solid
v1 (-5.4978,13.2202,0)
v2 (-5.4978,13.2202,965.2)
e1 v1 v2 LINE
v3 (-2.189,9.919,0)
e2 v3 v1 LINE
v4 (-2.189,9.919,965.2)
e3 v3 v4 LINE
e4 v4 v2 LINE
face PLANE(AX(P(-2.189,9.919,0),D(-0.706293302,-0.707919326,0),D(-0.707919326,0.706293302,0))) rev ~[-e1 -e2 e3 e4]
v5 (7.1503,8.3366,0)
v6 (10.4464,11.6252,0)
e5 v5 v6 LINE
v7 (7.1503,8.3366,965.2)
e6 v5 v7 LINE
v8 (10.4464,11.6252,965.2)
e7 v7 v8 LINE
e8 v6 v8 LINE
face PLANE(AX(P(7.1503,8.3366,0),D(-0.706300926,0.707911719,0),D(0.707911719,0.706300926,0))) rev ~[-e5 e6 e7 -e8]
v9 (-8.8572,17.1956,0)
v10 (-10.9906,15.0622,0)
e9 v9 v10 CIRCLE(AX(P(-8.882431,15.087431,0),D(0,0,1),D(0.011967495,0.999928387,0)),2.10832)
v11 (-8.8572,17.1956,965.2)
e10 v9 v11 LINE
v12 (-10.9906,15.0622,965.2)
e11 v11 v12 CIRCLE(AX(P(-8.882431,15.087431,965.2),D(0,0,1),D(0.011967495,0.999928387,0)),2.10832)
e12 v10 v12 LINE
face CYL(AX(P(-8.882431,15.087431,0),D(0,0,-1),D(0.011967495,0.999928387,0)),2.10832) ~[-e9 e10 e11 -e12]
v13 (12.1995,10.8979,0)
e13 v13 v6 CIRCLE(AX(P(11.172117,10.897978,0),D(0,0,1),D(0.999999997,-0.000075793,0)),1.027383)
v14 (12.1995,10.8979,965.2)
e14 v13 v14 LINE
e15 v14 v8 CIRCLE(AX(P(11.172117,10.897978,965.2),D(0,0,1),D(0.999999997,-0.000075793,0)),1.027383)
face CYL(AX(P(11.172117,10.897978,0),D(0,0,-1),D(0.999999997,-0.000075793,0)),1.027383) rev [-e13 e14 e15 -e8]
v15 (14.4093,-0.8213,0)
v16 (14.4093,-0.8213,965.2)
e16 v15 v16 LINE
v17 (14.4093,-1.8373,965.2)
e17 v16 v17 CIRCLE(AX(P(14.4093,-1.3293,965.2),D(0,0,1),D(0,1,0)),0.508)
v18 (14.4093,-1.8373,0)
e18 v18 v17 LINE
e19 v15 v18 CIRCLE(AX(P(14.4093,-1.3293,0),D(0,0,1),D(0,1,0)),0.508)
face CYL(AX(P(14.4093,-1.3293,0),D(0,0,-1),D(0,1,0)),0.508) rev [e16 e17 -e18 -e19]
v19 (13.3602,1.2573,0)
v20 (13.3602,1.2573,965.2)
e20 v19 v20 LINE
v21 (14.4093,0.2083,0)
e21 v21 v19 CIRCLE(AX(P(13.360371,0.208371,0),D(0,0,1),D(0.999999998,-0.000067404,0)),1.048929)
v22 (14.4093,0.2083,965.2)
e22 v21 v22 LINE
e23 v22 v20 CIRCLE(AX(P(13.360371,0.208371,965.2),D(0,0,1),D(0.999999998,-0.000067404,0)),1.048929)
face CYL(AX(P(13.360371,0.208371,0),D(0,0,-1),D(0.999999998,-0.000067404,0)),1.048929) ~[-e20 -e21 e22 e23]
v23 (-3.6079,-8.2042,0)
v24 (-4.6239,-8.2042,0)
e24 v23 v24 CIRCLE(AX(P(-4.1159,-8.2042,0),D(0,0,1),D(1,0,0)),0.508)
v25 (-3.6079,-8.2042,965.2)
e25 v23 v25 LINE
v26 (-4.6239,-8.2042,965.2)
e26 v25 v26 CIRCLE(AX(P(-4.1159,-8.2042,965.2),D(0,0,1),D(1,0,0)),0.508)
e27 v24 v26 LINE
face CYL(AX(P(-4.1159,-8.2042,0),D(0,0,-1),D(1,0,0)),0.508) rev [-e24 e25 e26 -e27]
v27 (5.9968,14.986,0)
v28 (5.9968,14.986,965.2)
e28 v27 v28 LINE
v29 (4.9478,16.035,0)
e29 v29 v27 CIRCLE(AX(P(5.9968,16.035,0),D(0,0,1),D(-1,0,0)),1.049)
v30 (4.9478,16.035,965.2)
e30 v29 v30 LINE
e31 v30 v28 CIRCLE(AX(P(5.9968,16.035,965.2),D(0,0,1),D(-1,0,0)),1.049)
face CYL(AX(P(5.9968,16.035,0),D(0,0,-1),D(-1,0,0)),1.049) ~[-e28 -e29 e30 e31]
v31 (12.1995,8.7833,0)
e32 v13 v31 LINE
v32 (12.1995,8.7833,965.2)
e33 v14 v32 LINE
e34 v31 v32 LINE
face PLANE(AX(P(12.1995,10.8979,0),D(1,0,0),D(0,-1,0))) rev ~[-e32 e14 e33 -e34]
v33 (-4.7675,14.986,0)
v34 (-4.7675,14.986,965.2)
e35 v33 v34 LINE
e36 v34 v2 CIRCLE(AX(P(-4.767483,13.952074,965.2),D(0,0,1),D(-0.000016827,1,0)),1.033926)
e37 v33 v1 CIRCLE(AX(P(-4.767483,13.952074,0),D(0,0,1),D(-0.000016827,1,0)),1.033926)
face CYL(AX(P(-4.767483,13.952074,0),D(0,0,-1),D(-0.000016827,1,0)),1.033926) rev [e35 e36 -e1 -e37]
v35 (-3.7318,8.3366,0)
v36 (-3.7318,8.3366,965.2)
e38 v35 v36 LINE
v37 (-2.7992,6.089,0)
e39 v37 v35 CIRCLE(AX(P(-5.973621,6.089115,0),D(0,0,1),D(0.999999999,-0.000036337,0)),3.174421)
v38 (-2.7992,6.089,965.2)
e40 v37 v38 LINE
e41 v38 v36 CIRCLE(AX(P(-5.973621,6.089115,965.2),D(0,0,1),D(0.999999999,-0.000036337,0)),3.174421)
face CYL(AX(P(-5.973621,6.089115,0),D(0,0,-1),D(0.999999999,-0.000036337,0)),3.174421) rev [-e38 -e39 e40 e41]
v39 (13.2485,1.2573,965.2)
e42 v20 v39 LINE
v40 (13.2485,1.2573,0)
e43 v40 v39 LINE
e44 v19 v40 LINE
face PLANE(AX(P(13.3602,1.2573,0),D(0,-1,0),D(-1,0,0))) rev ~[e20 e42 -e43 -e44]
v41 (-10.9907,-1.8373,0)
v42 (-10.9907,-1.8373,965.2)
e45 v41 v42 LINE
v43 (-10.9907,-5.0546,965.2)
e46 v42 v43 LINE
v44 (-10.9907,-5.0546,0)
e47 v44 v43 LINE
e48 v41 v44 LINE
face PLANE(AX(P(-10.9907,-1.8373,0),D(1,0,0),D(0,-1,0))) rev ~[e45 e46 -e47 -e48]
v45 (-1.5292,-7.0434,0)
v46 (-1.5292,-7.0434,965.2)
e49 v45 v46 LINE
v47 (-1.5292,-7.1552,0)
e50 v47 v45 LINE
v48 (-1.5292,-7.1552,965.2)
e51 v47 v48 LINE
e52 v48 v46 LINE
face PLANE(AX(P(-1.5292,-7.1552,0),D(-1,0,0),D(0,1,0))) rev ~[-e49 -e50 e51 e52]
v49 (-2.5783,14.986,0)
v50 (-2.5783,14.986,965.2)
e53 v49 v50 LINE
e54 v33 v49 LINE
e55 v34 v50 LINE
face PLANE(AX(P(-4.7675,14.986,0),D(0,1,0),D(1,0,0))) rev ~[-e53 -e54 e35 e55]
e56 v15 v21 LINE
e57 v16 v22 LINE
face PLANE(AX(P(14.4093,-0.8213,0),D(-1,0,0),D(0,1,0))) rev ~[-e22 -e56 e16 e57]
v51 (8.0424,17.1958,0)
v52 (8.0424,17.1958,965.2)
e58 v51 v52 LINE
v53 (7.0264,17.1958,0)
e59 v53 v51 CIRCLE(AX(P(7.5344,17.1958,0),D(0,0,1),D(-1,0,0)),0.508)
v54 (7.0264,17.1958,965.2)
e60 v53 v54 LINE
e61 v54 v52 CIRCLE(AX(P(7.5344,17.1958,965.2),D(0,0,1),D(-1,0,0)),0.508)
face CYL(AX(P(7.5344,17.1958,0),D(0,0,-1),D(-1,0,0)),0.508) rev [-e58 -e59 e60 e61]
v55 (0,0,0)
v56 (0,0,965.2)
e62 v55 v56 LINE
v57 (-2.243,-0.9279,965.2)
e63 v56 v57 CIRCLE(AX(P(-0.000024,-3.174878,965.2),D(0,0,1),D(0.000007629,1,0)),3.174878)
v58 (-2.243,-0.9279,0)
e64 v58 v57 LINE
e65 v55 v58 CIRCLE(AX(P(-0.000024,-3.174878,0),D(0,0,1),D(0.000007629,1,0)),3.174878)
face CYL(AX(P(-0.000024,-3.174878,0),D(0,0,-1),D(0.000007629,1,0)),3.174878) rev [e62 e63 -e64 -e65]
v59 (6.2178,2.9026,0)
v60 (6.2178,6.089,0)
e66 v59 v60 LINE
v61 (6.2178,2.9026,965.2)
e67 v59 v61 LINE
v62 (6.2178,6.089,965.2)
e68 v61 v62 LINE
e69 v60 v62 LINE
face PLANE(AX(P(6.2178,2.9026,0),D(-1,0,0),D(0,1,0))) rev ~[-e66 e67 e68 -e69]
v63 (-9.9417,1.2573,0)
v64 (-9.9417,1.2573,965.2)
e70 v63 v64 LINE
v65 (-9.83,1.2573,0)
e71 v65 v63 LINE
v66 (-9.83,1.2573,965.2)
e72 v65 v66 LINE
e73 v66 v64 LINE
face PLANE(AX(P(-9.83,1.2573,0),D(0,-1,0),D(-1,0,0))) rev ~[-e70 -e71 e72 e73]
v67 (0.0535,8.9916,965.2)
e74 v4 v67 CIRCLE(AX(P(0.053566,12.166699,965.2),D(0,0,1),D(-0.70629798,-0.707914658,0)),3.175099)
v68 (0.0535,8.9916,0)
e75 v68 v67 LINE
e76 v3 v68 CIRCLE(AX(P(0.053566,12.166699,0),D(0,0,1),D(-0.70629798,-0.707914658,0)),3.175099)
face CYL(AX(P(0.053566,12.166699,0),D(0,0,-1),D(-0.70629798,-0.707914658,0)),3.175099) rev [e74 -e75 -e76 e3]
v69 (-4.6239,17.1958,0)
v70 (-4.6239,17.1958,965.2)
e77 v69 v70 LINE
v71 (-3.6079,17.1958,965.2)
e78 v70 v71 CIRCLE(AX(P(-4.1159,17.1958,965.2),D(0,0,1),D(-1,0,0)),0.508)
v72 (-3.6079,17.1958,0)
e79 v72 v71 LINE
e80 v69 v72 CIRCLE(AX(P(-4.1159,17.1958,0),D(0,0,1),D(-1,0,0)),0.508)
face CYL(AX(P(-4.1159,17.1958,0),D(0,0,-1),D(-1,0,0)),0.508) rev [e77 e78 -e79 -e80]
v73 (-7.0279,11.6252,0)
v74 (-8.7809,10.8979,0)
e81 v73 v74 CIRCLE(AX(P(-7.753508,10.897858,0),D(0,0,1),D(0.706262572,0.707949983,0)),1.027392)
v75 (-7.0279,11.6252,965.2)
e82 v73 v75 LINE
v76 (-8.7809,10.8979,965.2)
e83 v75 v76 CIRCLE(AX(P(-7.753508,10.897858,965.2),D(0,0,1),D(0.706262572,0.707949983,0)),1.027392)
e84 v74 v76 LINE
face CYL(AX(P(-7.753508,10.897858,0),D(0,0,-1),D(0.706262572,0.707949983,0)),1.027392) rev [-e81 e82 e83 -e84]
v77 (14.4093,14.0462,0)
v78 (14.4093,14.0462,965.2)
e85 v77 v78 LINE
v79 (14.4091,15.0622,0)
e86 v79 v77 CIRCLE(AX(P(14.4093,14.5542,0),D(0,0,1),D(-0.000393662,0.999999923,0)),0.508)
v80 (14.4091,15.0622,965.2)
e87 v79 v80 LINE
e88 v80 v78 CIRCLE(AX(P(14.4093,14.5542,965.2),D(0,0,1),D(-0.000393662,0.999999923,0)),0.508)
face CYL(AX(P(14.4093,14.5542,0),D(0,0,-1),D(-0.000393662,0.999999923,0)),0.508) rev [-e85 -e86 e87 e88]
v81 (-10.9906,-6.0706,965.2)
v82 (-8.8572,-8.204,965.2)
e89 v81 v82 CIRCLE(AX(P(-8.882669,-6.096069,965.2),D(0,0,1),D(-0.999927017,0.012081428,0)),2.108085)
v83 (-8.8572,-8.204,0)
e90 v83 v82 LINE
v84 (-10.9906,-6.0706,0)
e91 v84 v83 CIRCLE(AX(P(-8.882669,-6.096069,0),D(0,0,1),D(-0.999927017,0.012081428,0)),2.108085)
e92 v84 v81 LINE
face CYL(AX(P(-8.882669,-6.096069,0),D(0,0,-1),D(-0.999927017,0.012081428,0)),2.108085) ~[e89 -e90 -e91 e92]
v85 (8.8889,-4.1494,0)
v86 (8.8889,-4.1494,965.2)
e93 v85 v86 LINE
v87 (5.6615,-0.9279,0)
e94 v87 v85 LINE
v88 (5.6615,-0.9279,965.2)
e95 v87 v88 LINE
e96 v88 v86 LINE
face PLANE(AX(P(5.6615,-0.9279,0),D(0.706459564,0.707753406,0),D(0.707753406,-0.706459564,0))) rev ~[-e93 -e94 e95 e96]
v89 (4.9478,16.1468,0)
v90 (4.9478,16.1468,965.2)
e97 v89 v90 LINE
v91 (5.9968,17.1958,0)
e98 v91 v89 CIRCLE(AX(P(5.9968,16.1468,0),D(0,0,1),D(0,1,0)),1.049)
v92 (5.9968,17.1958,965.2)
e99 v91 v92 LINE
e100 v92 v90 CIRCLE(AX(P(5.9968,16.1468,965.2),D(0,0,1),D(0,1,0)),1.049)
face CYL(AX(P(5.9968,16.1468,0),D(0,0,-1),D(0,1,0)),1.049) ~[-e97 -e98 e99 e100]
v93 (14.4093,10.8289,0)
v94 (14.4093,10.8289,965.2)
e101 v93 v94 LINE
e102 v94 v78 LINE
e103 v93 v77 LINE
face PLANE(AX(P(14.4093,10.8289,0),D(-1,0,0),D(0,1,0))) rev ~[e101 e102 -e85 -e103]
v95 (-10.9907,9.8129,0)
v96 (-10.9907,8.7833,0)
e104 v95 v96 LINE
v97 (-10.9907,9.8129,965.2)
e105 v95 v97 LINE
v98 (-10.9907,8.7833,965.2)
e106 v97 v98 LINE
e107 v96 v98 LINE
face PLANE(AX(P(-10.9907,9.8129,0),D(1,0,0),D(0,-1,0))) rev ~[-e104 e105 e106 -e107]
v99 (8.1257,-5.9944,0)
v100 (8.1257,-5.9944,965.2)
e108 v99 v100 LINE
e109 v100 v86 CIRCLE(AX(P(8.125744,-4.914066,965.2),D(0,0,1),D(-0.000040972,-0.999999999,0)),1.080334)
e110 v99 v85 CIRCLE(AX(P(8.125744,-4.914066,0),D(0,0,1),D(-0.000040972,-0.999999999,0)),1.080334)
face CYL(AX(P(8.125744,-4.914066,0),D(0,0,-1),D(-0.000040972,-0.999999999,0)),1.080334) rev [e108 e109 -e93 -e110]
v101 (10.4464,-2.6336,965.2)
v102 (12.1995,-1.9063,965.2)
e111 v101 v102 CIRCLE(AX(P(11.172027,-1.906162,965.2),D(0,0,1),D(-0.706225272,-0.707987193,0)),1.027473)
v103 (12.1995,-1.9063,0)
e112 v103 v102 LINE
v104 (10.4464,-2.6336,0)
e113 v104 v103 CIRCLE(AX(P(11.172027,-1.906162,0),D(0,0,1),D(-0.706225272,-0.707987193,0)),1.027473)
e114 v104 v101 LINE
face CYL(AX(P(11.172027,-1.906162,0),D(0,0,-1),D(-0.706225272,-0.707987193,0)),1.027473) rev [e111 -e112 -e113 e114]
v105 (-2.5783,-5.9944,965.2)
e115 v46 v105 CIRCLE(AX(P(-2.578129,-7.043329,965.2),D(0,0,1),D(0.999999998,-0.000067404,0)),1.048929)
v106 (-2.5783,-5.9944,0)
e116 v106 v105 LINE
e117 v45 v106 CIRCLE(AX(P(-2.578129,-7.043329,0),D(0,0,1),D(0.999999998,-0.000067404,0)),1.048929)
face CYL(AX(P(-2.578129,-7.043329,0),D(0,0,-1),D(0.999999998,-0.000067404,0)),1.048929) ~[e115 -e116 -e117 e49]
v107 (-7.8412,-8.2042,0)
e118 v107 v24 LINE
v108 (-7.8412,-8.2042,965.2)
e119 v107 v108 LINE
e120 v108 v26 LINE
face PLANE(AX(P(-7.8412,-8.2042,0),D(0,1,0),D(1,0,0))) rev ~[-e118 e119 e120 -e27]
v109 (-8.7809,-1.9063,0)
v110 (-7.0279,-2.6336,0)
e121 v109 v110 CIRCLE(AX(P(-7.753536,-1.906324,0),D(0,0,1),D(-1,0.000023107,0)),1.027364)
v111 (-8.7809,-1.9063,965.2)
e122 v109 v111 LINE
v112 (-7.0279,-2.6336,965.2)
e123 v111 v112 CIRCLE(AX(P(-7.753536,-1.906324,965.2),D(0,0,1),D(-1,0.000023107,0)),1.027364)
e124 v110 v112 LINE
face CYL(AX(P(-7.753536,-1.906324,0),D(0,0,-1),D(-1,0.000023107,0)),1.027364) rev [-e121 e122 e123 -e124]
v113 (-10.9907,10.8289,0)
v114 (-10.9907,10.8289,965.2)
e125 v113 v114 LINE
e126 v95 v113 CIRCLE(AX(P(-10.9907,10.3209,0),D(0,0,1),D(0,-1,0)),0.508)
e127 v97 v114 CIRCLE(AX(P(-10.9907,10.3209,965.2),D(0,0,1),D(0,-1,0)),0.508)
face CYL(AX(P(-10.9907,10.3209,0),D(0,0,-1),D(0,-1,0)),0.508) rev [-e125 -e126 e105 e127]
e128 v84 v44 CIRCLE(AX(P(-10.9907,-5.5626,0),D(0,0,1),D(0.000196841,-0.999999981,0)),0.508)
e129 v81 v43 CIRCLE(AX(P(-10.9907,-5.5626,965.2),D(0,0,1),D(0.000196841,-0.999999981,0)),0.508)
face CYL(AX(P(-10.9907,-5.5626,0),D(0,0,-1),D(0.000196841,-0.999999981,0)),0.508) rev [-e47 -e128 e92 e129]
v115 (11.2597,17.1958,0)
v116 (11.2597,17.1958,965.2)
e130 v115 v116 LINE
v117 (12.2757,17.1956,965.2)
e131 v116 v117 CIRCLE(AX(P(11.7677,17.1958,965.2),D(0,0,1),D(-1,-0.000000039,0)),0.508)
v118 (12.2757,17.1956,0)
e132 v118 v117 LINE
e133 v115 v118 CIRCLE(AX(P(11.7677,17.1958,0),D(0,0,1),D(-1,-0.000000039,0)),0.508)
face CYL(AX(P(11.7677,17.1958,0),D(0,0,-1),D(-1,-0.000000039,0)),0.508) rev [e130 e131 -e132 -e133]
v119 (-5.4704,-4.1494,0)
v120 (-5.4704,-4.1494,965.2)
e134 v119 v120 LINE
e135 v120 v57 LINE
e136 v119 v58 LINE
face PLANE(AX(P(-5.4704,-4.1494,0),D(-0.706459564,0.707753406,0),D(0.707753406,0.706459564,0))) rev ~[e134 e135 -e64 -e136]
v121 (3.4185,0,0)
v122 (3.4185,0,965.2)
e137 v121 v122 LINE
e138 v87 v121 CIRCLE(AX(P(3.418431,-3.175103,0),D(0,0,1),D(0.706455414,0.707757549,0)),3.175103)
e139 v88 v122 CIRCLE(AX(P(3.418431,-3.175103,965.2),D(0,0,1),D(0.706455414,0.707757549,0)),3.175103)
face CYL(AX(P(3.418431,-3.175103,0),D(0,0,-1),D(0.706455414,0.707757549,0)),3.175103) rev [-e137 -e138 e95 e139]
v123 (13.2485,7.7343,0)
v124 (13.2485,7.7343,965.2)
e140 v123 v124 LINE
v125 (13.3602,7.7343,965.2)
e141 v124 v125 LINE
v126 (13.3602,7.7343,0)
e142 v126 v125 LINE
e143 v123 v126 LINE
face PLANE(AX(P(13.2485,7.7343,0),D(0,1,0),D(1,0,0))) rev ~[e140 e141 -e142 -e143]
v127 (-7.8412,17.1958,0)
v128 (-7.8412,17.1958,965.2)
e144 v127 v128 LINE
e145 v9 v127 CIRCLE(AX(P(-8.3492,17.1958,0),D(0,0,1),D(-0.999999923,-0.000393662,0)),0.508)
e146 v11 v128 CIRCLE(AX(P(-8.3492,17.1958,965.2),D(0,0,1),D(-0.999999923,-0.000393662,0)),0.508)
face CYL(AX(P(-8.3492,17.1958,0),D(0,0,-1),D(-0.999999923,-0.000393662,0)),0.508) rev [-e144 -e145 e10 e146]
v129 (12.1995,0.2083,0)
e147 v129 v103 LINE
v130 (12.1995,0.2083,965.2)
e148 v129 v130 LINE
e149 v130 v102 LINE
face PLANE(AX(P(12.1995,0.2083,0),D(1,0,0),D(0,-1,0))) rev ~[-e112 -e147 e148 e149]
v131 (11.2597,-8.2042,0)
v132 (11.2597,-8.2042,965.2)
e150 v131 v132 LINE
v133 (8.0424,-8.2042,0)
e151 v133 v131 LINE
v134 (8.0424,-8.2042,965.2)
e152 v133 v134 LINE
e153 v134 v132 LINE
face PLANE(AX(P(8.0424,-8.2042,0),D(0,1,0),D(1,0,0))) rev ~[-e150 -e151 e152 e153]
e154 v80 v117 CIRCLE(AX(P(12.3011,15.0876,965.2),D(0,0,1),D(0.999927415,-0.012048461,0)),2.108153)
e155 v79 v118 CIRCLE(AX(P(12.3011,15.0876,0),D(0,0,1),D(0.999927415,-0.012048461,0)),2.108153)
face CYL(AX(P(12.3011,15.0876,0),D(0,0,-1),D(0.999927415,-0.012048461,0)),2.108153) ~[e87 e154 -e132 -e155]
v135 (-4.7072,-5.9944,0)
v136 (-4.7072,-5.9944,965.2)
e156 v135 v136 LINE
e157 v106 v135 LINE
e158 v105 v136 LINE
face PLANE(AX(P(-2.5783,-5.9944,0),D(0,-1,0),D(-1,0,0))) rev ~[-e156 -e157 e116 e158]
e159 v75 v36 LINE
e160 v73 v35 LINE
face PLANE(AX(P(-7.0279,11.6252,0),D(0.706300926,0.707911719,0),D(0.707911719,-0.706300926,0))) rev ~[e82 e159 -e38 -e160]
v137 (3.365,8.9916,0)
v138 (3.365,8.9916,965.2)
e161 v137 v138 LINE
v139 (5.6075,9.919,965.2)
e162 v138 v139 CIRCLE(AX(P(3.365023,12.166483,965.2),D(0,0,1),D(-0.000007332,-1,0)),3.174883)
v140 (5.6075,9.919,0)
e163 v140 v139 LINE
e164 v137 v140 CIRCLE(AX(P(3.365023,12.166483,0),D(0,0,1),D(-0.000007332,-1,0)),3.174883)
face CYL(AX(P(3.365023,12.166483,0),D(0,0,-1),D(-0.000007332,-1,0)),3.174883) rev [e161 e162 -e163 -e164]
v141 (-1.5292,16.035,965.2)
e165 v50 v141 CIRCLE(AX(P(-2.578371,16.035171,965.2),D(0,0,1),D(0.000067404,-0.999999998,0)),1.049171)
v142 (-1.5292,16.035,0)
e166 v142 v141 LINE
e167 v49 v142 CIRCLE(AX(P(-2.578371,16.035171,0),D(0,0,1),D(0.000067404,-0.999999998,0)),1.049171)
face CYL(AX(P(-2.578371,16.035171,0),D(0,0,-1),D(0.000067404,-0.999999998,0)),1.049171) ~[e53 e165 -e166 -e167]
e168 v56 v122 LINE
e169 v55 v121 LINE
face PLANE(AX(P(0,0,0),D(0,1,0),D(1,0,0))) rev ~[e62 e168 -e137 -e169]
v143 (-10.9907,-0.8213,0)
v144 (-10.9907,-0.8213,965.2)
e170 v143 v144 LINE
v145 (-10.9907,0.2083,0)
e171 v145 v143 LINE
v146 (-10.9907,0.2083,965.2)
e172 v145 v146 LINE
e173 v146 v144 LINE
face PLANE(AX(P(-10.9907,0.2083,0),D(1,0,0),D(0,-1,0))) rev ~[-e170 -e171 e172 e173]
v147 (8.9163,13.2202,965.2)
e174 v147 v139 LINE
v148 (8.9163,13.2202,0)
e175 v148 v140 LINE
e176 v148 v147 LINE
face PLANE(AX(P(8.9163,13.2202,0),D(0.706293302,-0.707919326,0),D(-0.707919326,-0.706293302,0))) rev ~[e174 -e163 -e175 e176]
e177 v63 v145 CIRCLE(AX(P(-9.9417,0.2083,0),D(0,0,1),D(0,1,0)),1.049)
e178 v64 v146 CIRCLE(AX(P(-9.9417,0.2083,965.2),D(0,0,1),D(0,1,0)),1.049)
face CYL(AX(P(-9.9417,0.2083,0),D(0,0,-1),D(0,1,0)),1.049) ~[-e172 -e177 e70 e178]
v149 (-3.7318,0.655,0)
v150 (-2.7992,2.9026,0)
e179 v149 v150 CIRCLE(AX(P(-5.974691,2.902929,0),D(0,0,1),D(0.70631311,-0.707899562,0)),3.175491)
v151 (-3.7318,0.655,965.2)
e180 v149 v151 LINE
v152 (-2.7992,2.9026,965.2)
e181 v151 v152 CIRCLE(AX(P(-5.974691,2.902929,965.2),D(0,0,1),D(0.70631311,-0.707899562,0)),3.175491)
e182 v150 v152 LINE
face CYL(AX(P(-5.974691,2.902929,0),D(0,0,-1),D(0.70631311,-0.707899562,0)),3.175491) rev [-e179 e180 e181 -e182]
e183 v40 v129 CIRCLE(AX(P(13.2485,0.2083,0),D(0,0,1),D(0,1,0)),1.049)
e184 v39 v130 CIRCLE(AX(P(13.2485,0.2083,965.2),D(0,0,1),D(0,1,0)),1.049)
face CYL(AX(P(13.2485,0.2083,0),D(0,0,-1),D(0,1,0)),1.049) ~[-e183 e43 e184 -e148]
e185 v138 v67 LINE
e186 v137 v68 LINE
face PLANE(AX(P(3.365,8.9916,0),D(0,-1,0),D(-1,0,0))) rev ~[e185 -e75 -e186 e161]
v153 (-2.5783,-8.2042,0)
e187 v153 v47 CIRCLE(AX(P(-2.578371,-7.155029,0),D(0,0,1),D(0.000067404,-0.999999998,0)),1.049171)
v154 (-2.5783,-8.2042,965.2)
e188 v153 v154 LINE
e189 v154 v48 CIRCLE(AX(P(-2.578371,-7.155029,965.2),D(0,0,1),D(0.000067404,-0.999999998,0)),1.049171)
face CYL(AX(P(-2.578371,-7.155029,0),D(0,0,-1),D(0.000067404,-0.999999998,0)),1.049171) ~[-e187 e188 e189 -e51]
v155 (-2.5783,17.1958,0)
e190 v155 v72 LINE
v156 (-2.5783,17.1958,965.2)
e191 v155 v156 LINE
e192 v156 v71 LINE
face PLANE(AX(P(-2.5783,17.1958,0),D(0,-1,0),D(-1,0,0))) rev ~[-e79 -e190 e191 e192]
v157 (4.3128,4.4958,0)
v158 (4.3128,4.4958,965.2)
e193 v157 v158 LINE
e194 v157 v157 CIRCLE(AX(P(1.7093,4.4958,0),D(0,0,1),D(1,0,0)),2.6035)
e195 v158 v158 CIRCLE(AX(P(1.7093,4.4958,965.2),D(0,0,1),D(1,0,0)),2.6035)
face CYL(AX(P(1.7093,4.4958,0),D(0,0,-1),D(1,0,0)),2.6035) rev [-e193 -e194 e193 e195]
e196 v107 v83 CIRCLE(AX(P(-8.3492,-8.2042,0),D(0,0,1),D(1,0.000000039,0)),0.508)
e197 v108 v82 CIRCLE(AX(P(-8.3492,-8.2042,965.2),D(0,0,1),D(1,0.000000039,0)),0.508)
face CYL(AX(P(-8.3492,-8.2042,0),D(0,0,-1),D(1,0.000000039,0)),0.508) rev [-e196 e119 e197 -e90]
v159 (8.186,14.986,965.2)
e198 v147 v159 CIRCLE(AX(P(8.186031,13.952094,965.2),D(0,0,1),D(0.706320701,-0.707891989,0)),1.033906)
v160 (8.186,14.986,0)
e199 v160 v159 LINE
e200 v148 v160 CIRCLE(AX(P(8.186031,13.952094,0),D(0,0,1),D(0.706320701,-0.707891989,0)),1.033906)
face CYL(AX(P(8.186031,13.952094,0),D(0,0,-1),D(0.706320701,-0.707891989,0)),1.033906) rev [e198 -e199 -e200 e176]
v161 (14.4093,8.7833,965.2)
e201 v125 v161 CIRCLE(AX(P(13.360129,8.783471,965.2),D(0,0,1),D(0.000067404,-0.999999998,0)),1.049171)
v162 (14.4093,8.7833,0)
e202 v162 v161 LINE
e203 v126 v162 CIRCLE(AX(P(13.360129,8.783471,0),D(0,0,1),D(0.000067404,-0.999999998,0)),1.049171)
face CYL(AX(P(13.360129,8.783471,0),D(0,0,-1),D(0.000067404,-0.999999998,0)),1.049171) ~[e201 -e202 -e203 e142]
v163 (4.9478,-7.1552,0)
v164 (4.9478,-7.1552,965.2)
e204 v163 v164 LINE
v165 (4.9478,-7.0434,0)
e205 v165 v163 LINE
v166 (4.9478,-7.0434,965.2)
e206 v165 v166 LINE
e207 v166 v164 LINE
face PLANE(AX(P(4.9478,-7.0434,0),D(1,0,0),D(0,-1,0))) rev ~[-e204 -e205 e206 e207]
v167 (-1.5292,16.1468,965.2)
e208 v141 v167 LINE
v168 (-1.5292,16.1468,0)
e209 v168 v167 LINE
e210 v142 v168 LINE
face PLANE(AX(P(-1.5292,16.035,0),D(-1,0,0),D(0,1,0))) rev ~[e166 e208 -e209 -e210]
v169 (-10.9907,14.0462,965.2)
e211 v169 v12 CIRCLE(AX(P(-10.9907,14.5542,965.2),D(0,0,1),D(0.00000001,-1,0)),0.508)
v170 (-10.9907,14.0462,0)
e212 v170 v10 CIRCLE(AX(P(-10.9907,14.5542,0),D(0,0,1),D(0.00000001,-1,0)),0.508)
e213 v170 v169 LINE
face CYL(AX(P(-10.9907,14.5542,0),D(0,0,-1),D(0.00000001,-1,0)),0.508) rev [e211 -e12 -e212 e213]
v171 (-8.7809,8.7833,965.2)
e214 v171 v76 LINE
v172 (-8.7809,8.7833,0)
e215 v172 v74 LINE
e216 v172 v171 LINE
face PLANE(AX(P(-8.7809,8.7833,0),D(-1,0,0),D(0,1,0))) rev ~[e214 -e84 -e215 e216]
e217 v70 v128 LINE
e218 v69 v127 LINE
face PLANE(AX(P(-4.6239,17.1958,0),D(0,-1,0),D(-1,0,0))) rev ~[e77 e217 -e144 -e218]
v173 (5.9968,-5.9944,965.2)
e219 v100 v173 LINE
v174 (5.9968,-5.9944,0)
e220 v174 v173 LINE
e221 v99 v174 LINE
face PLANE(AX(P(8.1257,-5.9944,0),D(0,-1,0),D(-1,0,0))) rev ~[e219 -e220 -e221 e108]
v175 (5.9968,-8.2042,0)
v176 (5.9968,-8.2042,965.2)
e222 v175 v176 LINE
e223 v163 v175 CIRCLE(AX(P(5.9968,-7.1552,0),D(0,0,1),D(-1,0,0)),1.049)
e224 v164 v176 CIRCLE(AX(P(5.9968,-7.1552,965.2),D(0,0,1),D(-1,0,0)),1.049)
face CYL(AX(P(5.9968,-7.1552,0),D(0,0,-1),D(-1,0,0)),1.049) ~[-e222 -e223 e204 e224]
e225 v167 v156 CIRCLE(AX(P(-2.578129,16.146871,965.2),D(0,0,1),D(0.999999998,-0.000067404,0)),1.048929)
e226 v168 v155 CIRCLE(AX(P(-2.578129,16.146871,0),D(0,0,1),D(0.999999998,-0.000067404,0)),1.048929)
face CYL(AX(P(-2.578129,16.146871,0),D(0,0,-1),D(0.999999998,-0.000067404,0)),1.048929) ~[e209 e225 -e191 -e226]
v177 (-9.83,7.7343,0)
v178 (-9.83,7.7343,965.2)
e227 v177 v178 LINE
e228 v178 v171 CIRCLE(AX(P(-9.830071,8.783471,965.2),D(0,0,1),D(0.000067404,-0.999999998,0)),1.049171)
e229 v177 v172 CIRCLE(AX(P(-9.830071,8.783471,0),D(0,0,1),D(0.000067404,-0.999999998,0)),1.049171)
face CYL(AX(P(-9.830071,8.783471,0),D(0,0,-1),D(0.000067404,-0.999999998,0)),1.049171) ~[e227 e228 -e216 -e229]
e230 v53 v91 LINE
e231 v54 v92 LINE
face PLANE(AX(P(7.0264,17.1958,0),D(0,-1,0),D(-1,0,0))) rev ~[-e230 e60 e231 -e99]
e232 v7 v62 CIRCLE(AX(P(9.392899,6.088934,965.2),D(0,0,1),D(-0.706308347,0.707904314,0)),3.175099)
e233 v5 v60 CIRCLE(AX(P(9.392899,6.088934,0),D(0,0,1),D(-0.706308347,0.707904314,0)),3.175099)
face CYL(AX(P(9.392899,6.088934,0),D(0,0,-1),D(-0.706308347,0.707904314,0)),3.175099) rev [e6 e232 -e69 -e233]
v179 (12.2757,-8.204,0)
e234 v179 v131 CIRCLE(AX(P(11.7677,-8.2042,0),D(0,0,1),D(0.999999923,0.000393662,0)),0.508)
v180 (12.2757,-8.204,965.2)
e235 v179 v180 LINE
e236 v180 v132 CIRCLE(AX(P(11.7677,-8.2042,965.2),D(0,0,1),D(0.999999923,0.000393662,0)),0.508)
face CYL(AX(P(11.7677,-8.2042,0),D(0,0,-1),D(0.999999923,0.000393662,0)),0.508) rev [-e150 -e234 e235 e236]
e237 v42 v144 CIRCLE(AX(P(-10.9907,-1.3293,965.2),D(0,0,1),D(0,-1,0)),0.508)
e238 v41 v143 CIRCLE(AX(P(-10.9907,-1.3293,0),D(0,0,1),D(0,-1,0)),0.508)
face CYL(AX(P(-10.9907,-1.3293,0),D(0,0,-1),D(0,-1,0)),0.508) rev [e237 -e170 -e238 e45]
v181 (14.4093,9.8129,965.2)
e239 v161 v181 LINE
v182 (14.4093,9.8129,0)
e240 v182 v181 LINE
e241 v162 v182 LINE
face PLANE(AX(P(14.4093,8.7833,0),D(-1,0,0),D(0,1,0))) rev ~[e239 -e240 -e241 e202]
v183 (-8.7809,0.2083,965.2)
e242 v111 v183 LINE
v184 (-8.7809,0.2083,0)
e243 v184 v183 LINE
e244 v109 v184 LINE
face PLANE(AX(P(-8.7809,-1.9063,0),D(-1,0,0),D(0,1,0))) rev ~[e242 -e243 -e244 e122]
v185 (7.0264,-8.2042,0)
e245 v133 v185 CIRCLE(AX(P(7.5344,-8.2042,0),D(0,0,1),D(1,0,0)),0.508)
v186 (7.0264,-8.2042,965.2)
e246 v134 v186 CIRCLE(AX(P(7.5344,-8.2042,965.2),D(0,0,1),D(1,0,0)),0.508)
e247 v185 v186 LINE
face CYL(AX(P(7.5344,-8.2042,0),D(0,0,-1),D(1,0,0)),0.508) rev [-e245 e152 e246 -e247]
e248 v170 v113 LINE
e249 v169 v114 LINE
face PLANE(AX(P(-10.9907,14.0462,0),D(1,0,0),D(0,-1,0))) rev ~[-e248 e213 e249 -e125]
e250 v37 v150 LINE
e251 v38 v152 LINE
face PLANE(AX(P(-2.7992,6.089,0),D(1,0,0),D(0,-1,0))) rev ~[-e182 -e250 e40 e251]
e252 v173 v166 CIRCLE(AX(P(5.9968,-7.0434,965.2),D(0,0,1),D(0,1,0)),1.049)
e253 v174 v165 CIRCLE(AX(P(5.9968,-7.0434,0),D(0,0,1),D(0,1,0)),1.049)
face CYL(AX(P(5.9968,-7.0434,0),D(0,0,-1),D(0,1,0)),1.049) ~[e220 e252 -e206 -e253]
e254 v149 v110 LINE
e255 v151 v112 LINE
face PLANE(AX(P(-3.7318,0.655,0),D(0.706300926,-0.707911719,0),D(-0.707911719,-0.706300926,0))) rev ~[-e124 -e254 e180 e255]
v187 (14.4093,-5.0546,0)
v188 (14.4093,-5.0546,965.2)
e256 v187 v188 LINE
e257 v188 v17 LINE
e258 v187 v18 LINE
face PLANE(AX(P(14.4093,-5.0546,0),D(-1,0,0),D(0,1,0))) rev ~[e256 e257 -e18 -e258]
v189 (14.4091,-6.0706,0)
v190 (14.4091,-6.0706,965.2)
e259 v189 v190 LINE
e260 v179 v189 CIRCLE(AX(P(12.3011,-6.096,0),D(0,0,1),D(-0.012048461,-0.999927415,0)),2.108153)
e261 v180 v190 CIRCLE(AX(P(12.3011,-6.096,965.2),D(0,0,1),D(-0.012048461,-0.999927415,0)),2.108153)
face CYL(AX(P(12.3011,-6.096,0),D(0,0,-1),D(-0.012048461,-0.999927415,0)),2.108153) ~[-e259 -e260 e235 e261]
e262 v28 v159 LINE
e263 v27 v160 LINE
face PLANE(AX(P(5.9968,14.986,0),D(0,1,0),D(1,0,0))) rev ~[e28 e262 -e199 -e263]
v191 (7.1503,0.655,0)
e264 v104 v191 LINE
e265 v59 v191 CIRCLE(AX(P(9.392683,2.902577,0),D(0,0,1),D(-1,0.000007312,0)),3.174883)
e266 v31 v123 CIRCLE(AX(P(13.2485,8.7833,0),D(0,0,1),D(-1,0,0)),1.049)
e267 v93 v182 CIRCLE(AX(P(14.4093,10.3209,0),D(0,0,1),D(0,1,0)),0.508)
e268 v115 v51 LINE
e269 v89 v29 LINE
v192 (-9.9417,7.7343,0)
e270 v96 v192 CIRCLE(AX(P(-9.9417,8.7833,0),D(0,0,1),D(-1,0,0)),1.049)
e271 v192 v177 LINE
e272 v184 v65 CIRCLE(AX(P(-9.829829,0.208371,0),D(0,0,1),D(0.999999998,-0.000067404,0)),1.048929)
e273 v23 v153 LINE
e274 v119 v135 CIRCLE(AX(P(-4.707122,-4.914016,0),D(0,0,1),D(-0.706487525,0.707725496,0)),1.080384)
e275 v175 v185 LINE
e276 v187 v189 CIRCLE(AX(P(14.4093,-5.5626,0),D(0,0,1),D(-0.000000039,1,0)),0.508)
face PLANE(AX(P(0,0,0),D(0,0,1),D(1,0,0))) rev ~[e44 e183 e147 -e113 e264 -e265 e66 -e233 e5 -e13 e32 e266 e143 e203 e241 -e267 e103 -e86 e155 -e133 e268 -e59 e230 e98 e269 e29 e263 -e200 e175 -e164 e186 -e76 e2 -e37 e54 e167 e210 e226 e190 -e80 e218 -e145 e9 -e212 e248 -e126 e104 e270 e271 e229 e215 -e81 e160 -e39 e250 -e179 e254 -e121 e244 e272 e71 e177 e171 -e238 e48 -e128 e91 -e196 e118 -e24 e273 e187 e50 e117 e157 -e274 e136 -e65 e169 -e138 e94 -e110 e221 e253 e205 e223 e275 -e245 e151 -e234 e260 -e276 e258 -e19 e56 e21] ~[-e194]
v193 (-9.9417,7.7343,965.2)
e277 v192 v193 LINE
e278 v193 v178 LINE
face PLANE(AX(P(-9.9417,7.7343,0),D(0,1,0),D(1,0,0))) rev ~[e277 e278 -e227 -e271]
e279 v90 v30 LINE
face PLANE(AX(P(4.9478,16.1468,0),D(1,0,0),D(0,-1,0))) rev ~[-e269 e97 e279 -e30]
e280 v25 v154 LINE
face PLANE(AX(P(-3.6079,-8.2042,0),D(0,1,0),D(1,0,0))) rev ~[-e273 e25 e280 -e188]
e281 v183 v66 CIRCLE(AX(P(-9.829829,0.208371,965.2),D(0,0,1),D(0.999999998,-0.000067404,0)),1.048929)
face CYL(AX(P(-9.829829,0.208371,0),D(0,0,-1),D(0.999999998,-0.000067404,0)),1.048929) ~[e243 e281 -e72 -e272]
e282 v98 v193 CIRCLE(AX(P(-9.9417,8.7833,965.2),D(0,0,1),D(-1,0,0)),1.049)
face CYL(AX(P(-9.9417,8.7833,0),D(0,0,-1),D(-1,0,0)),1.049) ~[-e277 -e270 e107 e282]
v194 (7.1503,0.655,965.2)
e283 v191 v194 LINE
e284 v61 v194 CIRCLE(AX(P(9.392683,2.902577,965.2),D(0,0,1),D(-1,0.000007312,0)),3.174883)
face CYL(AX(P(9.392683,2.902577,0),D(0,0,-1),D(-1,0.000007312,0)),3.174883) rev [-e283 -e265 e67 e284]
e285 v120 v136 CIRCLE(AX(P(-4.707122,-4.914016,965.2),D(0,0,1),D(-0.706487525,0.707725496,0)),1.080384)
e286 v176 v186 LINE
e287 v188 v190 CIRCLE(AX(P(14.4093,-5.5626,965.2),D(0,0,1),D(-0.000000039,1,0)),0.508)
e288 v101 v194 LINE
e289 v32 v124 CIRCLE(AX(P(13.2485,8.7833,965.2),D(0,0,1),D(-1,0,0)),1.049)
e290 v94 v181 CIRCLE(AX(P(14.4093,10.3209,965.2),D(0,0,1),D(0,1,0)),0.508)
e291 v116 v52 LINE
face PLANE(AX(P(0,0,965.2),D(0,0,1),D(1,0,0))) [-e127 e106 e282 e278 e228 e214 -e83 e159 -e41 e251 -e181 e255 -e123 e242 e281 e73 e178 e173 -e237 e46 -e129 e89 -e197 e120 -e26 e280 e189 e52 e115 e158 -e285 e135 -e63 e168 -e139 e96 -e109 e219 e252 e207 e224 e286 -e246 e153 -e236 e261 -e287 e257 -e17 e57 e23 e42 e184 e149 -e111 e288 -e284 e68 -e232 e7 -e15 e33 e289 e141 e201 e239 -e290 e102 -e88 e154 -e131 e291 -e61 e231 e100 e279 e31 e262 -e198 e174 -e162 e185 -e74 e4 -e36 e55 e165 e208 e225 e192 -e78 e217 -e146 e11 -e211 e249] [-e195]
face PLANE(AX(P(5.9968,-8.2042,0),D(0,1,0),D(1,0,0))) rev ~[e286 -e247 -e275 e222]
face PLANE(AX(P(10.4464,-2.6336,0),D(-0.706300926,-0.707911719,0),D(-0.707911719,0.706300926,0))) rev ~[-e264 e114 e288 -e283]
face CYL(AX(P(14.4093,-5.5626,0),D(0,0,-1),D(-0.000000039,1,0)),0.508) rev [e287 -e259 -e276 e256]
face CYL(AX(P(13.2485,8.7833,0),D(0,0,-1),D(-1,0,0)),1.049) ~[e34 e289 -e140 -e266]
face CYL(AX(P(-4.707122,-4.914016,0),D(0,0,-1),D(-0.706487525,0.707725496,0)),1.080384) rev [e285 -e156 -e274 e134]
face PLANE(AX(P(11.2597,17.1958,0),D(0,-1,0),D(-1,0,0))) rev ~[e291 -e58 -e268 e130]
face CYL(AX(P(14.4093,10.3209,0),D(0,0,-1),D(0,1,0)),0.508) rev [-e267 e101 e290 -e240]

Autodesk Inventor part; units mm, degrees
ref_plane "YZ Plane" through (0, 0, 0) normal (1, 0, 0) x (0, 1, 0)
ref_plane "XZ Plane" through (0, 0, 0) normal (0, 1, 0) x (-1, 0, 0)
ref_plane "XY Plane" through (0, 0, 0) normal (0, 0, 1) x (1, 0, 0)
sketch "Sketch1" plane through (0, 0, 0) normal (0, 0, 1) x (1, 0, 0)
  arc A0 (-5.4704, -4.1494) -> (-4.7072, -5.9944) centre (-4.7072, -4.914) ccw
  line L0 (-5.4704, -4.1494) -> (-2.243, -0.9279)
  arc A1 (0, 0) -> (-2.243, -0.9279) centre (0, -3.175) ccw
  line L1 (0, 0) -> (3.4185, 0)
  arc A2 (5.6615, -0.9279) -> (3.4185, 0) centre (3.4185, -3.175) ccw
  line L2 (5.6615, -0.9279) -> (8.8889, -4.1494)
  arc A3 (8.1257, -5.9944) -> (8.8889, -4.1494) centre (8.1257, -4.914) ccw
  line L3 (8.1257, -5.9944) -> (5.9968, -5.9944)
  arc A4 (5.9968, -5.9944) -> (4.9478, -7.0434) centre (5.9968, -7.0434) ccw
  line L4 (4.9478, -7.0434) -> (4.9478, -7.1552)
  arc A5 (4.9478, -7.1552) -> (5.9968, -8.2042) centre (5.9968, -7.1552) ccw
  line L5 (5.9968, -8.2042) -> (7.0264, -8.2042)
  arc A6 (8.0424, -8.2042) -> (7.0264, -8.2042) centre (7.5344, -8.2042) ccw
  line L6 (8.0424, -8.2042) -> (11.2597, -8.2042)
  arc A7 (12.2757, -8.204) -> (11.2597, -8.2042) centre (11.7677, -8.2042) ccw
  arc A8 (12.2757, -8.204) -> (14.4091, -6.0706) centre (12.3011, -6.096) ccw
  arc A9 (14.4093, -5.0546) -> (14.4091, -6.0706) centre (14.4093, -5.5626) ccw
  line L7 (14.4093, -5.0546) -> (14.4093, -1.8373)
  arc A10 (14.4093, -0.8213) -> (14.4093, -1.8373) centre (14.4093, -1.3293) ccw
  line L8 (14.4093, -0.8213) -> (14.4093, 0.2083)
  arc A11 (14.4093, 0.2083) -> (13.3602, 1.2573) centre (13.3602, 0.2083) ccw
  line L9 (13.3602, 1.2573) -> (13.2485, 1.2573)
  arc A12 (13.2485, 1.2573) -> (12.1995, 0.2083) centre (13.2485, 0.2083) ccw
  line L10 (12.1995, 0.2083) -> (12.1995, -1.9063)
  arc A13 (10.4464, -2.6336) -> (12.1995, -1.9063) centre (11.172, -1.9063) ccw
  line L11 (10.4464, -2.6336) -> (7.1503, 0.655)
  arc A14 (6.2178, 2.9026) -> (7.1503, 0.655) centre (9.3928, 2.9026) ccw
  line L12 (6.2178, 2.9026) -> (6.2178, 6.089)
  arc A15 (7.1503, 8.3366) -> (6.2178, 6.089) centre (9.3928, 6.089) ccw
  line L13 (7.1503, 8.3366) -> (10.4464, 11.6252)
  arc A16 (12.1995, 10.8979) -> (10.4464, 11.6252) centre (11.172, 10.8979) ccw
  line L14 (12.1995, 10.8979) -> (12.1995, 8.7833)
  arc A17 (12.1995, 8.7833) -> (13.2485, 7.7343) centre (13.2485, 8.7833) ccw
  line L15 (13.2485, 7.7343) -> (13.3602, 7.7343)
  arc A18 (13.3602, 7.7343) -> (14.4093, 8.7833) centre (13.3602, 8.7833) ccw
  line L16 (14.4093, 8.7833) -> (14.4093, 9.8129)
  arc A19 (14.4093, 10.8289) -> (14.4093, 9.8129) centre (14.4093, 10.3209) ccw
  line L17 (14.4093, 10.8289) -> (14.4093, 14.0462)
  arc A20 (14.4091, 15.0622) -> (14.4093, 14.0462) centre (14.4093, 14.5542) ccw
  arc A21 (14.4091, 15.0622) -> (12.2757, 17.1956) centre (12.3011, 15.0876) ccw
  arc A22 (11.2597, 17.1958) -> (12.2757, 17.1956) centre (11.7677, 17.1958) ccw
  line L18 (11.2597, 17.1958) -> (8.0424, 17.1958)
  arc A23 (7.0264, 17.1958) -> (8.0424, 17.1958) centre (7.5344, 17.1958) ccw
  line L19 (7.0264, 17.1958) -> (5.9968, 17.1958)
  arc A24 (5.9968, 17.1958) -> (4.9478, 16.1468) centre (5.9968, 16.1468) ccw
  line L20 (4.9478, 16.1468) -> (4.9478, 16.035)
  arc A25 (4.9478, 16.035) -> (5.9968, 14.986) centre (5.9968, 16.035) ccw
  line L21 (5.9968, 14.986) -> (8.186, 14.986)
  arc A26 (8.9163, 13.2202) -> (8.186, 14.986) centre (8.186, 13.9521) ccw
  line L22 (8.9163, 13.2202) -> (5.6075, 9.919)
  arc A27 (3.365, 8.9916) -> (5.6075, 9.919) centre (3.365, 12.1666) ccw
  line L23 (3.365, 8.9916) -> (0.0535, 8.9916)
  arc A28 (-2.189, 9.919) -> (0.0535, 8.9916) centre (0.0535, 12.1666) ccw
  line L24 (-2.189, 9.919) -> (-5.4978, 13.2202)
  arc A29 (-4.7675, 14.986) -> (-5.4978, 13.2202) centre (-4.7675, 13.9521) ccw
  line L25 (-4.7675, 14.986) -> (-2.5783, 14.986)
  arc A30 (-2.5783, 14.986) -> (-1.5292, 16.035) centre (-2.5783, 16.035) ccw
  line L26 (-1.5292, 16.035) -> (-1.5292, 16.1468)
  arc A31 (-1.5292, 16.1468) -> (-2.5783, 17.1958) centre (-2.5783, 16.1468) ccw
  line L27 (-2.5783, 17.1958) -> (-3.6079, 17.1958)
  arc A32 (-4.6239, 17.1958) -> (-3.6079, 17.1958) centre (-4.1159, 17.1958) ccw
  line L28 (-4.6239, 17.1958) -> (-7.8412, 17.1958)
  arc A33 (-8.8572, 17.1956) -> (-7.8412, 17.1958) centre (-8.3492, 17.1958) ccw
  arc A34 (-8.8572, 17.1956) -> (-10.9906, 15.0622) centre (-8.8825, 15.0876) ccw
  arc A35 (-10.9907, 14.0462) -> (-10.9906, 15.0622) centre (-10.9907, 14.5542) ccw
  line L29 (-10.9907, 14.0462) -> (-10.9907, 10.8289)
  arc A36 (-10.9907, 9.8129) -> (-10.9907, 10.8289) centre (-10.9907, 10.3209) ccw
  line L30 (-10.9907, 9.8129) -> (-10.9907, 8.7833)
  arc A37 (-10.9907, 8.7833) -> (-9.9417, 7.7343) centre (-9.9417, 8.7833) ccw
  line L31 (-9.9417, 7.7343) -> (-9.83, 7.7343)
  arc A38 (-9.83, 7.7343) -> (-8.7809, 8.7833) centre (-9.83, 8.7833) ccw
  line L32 (-8.7809, 8.7833) -> (-8.7809, 10.8979)
  arc A39 (-7.0279, 11.6252) -> (-8.7809, 10.8979) centre (-7.7535, 10.8979) ccw
  line L33 (-7.0279, 11.6252) -> (-3.7318, 8.3366)
  arc A40 (-2.7992, 6.089) -> (-3.7318, 8.3366) centre (-5.9742, 6.089) ccw
  line L34 (-2.7992, 6.089) -> (-2.7992, 2.9026)
  arc A41 (-3.7318, 0.655) -> (-2.7992, 2.9026) centre (-5.9742, 2.9026) ccw
  line L35 (-3.7318, 0.655) -> (-7.0279, -2.6336)
  arc A42 (-8.7809, -1.9063) -> (-7.0279, -2.6336) centre (-7.7535, -1.9063) ccw
  line L36 (-8.7809, -1.9063) -> (-8.7809, 0.2083)
  arc A43 (-8.7809, 0.2083) -> (-9.83, 1.2573) centre (-9.83, 0.2083) ccw
  line L37 (-9.83, 1.2573) -> (-9.9417, 1.2573)
  arc A44 (-9.9417, 1.2573) -> (-10.9907, 0.2083) centre (-9.9417, 0.2083) ccw
  line L38 (-10.9907, 0.2083) -> (-10.9907, -0.8213)
  arc A45 (-10.9907, -1.8373) -> (-10.9907, -0.8213) centre (-10.9907, -1.3293) ccw
  line L39 (-10.9907, -1.8373) -> (-10.9907, -5.0546)
  arc A46 (-10.9906, -6.0706) -> (-10.9907, -5.0546) centre (-10.9907, -5.5626) ccw
  arc A47 (-10.9906, -6.0706) -> (-8.8572, -8.204) centre (-8.8825, -6.096) ccw
  arc A48 (-7.8412, -8.2042) -> (-8.8572, -8.204) centre (-8.3492, -8.2042) ccw
  line L40 (-7.8412, -8.2042) -> (-4.6239, -8.2042)
  arc A49 (-3.6079, -8.2042) -> (-4.6239, -8.2042) centre (-4.1159, -8.2042) ccw
  line L41 (-3.6079, -8.2042) -> (-2.5783, -8.2042)
  arc A50 (-2.5783, -8.2042) -> (-1.5292, -7.1552) centre (-2.5783, -7.1552) ccw
  line L42 (-1.5292, -7.1552) -> (-1.5292, -7.0434)
  arc A51 (-1.5292, -7.0434) -> (-2.5783, -5.9944) centre (-2.5783, -7.0434) ccw
  line L43 (-2.5783, -5.9944) -> (-4.7072, -5.9944)
  circle A52 centre (1.7093, 4.4958) radius 2.6035
extrude "Extrusion1" add sketch "Sketch1" along normal blind 965.2
properties part number "38 in 1x1 T slot" material "Steel, Alloy"
